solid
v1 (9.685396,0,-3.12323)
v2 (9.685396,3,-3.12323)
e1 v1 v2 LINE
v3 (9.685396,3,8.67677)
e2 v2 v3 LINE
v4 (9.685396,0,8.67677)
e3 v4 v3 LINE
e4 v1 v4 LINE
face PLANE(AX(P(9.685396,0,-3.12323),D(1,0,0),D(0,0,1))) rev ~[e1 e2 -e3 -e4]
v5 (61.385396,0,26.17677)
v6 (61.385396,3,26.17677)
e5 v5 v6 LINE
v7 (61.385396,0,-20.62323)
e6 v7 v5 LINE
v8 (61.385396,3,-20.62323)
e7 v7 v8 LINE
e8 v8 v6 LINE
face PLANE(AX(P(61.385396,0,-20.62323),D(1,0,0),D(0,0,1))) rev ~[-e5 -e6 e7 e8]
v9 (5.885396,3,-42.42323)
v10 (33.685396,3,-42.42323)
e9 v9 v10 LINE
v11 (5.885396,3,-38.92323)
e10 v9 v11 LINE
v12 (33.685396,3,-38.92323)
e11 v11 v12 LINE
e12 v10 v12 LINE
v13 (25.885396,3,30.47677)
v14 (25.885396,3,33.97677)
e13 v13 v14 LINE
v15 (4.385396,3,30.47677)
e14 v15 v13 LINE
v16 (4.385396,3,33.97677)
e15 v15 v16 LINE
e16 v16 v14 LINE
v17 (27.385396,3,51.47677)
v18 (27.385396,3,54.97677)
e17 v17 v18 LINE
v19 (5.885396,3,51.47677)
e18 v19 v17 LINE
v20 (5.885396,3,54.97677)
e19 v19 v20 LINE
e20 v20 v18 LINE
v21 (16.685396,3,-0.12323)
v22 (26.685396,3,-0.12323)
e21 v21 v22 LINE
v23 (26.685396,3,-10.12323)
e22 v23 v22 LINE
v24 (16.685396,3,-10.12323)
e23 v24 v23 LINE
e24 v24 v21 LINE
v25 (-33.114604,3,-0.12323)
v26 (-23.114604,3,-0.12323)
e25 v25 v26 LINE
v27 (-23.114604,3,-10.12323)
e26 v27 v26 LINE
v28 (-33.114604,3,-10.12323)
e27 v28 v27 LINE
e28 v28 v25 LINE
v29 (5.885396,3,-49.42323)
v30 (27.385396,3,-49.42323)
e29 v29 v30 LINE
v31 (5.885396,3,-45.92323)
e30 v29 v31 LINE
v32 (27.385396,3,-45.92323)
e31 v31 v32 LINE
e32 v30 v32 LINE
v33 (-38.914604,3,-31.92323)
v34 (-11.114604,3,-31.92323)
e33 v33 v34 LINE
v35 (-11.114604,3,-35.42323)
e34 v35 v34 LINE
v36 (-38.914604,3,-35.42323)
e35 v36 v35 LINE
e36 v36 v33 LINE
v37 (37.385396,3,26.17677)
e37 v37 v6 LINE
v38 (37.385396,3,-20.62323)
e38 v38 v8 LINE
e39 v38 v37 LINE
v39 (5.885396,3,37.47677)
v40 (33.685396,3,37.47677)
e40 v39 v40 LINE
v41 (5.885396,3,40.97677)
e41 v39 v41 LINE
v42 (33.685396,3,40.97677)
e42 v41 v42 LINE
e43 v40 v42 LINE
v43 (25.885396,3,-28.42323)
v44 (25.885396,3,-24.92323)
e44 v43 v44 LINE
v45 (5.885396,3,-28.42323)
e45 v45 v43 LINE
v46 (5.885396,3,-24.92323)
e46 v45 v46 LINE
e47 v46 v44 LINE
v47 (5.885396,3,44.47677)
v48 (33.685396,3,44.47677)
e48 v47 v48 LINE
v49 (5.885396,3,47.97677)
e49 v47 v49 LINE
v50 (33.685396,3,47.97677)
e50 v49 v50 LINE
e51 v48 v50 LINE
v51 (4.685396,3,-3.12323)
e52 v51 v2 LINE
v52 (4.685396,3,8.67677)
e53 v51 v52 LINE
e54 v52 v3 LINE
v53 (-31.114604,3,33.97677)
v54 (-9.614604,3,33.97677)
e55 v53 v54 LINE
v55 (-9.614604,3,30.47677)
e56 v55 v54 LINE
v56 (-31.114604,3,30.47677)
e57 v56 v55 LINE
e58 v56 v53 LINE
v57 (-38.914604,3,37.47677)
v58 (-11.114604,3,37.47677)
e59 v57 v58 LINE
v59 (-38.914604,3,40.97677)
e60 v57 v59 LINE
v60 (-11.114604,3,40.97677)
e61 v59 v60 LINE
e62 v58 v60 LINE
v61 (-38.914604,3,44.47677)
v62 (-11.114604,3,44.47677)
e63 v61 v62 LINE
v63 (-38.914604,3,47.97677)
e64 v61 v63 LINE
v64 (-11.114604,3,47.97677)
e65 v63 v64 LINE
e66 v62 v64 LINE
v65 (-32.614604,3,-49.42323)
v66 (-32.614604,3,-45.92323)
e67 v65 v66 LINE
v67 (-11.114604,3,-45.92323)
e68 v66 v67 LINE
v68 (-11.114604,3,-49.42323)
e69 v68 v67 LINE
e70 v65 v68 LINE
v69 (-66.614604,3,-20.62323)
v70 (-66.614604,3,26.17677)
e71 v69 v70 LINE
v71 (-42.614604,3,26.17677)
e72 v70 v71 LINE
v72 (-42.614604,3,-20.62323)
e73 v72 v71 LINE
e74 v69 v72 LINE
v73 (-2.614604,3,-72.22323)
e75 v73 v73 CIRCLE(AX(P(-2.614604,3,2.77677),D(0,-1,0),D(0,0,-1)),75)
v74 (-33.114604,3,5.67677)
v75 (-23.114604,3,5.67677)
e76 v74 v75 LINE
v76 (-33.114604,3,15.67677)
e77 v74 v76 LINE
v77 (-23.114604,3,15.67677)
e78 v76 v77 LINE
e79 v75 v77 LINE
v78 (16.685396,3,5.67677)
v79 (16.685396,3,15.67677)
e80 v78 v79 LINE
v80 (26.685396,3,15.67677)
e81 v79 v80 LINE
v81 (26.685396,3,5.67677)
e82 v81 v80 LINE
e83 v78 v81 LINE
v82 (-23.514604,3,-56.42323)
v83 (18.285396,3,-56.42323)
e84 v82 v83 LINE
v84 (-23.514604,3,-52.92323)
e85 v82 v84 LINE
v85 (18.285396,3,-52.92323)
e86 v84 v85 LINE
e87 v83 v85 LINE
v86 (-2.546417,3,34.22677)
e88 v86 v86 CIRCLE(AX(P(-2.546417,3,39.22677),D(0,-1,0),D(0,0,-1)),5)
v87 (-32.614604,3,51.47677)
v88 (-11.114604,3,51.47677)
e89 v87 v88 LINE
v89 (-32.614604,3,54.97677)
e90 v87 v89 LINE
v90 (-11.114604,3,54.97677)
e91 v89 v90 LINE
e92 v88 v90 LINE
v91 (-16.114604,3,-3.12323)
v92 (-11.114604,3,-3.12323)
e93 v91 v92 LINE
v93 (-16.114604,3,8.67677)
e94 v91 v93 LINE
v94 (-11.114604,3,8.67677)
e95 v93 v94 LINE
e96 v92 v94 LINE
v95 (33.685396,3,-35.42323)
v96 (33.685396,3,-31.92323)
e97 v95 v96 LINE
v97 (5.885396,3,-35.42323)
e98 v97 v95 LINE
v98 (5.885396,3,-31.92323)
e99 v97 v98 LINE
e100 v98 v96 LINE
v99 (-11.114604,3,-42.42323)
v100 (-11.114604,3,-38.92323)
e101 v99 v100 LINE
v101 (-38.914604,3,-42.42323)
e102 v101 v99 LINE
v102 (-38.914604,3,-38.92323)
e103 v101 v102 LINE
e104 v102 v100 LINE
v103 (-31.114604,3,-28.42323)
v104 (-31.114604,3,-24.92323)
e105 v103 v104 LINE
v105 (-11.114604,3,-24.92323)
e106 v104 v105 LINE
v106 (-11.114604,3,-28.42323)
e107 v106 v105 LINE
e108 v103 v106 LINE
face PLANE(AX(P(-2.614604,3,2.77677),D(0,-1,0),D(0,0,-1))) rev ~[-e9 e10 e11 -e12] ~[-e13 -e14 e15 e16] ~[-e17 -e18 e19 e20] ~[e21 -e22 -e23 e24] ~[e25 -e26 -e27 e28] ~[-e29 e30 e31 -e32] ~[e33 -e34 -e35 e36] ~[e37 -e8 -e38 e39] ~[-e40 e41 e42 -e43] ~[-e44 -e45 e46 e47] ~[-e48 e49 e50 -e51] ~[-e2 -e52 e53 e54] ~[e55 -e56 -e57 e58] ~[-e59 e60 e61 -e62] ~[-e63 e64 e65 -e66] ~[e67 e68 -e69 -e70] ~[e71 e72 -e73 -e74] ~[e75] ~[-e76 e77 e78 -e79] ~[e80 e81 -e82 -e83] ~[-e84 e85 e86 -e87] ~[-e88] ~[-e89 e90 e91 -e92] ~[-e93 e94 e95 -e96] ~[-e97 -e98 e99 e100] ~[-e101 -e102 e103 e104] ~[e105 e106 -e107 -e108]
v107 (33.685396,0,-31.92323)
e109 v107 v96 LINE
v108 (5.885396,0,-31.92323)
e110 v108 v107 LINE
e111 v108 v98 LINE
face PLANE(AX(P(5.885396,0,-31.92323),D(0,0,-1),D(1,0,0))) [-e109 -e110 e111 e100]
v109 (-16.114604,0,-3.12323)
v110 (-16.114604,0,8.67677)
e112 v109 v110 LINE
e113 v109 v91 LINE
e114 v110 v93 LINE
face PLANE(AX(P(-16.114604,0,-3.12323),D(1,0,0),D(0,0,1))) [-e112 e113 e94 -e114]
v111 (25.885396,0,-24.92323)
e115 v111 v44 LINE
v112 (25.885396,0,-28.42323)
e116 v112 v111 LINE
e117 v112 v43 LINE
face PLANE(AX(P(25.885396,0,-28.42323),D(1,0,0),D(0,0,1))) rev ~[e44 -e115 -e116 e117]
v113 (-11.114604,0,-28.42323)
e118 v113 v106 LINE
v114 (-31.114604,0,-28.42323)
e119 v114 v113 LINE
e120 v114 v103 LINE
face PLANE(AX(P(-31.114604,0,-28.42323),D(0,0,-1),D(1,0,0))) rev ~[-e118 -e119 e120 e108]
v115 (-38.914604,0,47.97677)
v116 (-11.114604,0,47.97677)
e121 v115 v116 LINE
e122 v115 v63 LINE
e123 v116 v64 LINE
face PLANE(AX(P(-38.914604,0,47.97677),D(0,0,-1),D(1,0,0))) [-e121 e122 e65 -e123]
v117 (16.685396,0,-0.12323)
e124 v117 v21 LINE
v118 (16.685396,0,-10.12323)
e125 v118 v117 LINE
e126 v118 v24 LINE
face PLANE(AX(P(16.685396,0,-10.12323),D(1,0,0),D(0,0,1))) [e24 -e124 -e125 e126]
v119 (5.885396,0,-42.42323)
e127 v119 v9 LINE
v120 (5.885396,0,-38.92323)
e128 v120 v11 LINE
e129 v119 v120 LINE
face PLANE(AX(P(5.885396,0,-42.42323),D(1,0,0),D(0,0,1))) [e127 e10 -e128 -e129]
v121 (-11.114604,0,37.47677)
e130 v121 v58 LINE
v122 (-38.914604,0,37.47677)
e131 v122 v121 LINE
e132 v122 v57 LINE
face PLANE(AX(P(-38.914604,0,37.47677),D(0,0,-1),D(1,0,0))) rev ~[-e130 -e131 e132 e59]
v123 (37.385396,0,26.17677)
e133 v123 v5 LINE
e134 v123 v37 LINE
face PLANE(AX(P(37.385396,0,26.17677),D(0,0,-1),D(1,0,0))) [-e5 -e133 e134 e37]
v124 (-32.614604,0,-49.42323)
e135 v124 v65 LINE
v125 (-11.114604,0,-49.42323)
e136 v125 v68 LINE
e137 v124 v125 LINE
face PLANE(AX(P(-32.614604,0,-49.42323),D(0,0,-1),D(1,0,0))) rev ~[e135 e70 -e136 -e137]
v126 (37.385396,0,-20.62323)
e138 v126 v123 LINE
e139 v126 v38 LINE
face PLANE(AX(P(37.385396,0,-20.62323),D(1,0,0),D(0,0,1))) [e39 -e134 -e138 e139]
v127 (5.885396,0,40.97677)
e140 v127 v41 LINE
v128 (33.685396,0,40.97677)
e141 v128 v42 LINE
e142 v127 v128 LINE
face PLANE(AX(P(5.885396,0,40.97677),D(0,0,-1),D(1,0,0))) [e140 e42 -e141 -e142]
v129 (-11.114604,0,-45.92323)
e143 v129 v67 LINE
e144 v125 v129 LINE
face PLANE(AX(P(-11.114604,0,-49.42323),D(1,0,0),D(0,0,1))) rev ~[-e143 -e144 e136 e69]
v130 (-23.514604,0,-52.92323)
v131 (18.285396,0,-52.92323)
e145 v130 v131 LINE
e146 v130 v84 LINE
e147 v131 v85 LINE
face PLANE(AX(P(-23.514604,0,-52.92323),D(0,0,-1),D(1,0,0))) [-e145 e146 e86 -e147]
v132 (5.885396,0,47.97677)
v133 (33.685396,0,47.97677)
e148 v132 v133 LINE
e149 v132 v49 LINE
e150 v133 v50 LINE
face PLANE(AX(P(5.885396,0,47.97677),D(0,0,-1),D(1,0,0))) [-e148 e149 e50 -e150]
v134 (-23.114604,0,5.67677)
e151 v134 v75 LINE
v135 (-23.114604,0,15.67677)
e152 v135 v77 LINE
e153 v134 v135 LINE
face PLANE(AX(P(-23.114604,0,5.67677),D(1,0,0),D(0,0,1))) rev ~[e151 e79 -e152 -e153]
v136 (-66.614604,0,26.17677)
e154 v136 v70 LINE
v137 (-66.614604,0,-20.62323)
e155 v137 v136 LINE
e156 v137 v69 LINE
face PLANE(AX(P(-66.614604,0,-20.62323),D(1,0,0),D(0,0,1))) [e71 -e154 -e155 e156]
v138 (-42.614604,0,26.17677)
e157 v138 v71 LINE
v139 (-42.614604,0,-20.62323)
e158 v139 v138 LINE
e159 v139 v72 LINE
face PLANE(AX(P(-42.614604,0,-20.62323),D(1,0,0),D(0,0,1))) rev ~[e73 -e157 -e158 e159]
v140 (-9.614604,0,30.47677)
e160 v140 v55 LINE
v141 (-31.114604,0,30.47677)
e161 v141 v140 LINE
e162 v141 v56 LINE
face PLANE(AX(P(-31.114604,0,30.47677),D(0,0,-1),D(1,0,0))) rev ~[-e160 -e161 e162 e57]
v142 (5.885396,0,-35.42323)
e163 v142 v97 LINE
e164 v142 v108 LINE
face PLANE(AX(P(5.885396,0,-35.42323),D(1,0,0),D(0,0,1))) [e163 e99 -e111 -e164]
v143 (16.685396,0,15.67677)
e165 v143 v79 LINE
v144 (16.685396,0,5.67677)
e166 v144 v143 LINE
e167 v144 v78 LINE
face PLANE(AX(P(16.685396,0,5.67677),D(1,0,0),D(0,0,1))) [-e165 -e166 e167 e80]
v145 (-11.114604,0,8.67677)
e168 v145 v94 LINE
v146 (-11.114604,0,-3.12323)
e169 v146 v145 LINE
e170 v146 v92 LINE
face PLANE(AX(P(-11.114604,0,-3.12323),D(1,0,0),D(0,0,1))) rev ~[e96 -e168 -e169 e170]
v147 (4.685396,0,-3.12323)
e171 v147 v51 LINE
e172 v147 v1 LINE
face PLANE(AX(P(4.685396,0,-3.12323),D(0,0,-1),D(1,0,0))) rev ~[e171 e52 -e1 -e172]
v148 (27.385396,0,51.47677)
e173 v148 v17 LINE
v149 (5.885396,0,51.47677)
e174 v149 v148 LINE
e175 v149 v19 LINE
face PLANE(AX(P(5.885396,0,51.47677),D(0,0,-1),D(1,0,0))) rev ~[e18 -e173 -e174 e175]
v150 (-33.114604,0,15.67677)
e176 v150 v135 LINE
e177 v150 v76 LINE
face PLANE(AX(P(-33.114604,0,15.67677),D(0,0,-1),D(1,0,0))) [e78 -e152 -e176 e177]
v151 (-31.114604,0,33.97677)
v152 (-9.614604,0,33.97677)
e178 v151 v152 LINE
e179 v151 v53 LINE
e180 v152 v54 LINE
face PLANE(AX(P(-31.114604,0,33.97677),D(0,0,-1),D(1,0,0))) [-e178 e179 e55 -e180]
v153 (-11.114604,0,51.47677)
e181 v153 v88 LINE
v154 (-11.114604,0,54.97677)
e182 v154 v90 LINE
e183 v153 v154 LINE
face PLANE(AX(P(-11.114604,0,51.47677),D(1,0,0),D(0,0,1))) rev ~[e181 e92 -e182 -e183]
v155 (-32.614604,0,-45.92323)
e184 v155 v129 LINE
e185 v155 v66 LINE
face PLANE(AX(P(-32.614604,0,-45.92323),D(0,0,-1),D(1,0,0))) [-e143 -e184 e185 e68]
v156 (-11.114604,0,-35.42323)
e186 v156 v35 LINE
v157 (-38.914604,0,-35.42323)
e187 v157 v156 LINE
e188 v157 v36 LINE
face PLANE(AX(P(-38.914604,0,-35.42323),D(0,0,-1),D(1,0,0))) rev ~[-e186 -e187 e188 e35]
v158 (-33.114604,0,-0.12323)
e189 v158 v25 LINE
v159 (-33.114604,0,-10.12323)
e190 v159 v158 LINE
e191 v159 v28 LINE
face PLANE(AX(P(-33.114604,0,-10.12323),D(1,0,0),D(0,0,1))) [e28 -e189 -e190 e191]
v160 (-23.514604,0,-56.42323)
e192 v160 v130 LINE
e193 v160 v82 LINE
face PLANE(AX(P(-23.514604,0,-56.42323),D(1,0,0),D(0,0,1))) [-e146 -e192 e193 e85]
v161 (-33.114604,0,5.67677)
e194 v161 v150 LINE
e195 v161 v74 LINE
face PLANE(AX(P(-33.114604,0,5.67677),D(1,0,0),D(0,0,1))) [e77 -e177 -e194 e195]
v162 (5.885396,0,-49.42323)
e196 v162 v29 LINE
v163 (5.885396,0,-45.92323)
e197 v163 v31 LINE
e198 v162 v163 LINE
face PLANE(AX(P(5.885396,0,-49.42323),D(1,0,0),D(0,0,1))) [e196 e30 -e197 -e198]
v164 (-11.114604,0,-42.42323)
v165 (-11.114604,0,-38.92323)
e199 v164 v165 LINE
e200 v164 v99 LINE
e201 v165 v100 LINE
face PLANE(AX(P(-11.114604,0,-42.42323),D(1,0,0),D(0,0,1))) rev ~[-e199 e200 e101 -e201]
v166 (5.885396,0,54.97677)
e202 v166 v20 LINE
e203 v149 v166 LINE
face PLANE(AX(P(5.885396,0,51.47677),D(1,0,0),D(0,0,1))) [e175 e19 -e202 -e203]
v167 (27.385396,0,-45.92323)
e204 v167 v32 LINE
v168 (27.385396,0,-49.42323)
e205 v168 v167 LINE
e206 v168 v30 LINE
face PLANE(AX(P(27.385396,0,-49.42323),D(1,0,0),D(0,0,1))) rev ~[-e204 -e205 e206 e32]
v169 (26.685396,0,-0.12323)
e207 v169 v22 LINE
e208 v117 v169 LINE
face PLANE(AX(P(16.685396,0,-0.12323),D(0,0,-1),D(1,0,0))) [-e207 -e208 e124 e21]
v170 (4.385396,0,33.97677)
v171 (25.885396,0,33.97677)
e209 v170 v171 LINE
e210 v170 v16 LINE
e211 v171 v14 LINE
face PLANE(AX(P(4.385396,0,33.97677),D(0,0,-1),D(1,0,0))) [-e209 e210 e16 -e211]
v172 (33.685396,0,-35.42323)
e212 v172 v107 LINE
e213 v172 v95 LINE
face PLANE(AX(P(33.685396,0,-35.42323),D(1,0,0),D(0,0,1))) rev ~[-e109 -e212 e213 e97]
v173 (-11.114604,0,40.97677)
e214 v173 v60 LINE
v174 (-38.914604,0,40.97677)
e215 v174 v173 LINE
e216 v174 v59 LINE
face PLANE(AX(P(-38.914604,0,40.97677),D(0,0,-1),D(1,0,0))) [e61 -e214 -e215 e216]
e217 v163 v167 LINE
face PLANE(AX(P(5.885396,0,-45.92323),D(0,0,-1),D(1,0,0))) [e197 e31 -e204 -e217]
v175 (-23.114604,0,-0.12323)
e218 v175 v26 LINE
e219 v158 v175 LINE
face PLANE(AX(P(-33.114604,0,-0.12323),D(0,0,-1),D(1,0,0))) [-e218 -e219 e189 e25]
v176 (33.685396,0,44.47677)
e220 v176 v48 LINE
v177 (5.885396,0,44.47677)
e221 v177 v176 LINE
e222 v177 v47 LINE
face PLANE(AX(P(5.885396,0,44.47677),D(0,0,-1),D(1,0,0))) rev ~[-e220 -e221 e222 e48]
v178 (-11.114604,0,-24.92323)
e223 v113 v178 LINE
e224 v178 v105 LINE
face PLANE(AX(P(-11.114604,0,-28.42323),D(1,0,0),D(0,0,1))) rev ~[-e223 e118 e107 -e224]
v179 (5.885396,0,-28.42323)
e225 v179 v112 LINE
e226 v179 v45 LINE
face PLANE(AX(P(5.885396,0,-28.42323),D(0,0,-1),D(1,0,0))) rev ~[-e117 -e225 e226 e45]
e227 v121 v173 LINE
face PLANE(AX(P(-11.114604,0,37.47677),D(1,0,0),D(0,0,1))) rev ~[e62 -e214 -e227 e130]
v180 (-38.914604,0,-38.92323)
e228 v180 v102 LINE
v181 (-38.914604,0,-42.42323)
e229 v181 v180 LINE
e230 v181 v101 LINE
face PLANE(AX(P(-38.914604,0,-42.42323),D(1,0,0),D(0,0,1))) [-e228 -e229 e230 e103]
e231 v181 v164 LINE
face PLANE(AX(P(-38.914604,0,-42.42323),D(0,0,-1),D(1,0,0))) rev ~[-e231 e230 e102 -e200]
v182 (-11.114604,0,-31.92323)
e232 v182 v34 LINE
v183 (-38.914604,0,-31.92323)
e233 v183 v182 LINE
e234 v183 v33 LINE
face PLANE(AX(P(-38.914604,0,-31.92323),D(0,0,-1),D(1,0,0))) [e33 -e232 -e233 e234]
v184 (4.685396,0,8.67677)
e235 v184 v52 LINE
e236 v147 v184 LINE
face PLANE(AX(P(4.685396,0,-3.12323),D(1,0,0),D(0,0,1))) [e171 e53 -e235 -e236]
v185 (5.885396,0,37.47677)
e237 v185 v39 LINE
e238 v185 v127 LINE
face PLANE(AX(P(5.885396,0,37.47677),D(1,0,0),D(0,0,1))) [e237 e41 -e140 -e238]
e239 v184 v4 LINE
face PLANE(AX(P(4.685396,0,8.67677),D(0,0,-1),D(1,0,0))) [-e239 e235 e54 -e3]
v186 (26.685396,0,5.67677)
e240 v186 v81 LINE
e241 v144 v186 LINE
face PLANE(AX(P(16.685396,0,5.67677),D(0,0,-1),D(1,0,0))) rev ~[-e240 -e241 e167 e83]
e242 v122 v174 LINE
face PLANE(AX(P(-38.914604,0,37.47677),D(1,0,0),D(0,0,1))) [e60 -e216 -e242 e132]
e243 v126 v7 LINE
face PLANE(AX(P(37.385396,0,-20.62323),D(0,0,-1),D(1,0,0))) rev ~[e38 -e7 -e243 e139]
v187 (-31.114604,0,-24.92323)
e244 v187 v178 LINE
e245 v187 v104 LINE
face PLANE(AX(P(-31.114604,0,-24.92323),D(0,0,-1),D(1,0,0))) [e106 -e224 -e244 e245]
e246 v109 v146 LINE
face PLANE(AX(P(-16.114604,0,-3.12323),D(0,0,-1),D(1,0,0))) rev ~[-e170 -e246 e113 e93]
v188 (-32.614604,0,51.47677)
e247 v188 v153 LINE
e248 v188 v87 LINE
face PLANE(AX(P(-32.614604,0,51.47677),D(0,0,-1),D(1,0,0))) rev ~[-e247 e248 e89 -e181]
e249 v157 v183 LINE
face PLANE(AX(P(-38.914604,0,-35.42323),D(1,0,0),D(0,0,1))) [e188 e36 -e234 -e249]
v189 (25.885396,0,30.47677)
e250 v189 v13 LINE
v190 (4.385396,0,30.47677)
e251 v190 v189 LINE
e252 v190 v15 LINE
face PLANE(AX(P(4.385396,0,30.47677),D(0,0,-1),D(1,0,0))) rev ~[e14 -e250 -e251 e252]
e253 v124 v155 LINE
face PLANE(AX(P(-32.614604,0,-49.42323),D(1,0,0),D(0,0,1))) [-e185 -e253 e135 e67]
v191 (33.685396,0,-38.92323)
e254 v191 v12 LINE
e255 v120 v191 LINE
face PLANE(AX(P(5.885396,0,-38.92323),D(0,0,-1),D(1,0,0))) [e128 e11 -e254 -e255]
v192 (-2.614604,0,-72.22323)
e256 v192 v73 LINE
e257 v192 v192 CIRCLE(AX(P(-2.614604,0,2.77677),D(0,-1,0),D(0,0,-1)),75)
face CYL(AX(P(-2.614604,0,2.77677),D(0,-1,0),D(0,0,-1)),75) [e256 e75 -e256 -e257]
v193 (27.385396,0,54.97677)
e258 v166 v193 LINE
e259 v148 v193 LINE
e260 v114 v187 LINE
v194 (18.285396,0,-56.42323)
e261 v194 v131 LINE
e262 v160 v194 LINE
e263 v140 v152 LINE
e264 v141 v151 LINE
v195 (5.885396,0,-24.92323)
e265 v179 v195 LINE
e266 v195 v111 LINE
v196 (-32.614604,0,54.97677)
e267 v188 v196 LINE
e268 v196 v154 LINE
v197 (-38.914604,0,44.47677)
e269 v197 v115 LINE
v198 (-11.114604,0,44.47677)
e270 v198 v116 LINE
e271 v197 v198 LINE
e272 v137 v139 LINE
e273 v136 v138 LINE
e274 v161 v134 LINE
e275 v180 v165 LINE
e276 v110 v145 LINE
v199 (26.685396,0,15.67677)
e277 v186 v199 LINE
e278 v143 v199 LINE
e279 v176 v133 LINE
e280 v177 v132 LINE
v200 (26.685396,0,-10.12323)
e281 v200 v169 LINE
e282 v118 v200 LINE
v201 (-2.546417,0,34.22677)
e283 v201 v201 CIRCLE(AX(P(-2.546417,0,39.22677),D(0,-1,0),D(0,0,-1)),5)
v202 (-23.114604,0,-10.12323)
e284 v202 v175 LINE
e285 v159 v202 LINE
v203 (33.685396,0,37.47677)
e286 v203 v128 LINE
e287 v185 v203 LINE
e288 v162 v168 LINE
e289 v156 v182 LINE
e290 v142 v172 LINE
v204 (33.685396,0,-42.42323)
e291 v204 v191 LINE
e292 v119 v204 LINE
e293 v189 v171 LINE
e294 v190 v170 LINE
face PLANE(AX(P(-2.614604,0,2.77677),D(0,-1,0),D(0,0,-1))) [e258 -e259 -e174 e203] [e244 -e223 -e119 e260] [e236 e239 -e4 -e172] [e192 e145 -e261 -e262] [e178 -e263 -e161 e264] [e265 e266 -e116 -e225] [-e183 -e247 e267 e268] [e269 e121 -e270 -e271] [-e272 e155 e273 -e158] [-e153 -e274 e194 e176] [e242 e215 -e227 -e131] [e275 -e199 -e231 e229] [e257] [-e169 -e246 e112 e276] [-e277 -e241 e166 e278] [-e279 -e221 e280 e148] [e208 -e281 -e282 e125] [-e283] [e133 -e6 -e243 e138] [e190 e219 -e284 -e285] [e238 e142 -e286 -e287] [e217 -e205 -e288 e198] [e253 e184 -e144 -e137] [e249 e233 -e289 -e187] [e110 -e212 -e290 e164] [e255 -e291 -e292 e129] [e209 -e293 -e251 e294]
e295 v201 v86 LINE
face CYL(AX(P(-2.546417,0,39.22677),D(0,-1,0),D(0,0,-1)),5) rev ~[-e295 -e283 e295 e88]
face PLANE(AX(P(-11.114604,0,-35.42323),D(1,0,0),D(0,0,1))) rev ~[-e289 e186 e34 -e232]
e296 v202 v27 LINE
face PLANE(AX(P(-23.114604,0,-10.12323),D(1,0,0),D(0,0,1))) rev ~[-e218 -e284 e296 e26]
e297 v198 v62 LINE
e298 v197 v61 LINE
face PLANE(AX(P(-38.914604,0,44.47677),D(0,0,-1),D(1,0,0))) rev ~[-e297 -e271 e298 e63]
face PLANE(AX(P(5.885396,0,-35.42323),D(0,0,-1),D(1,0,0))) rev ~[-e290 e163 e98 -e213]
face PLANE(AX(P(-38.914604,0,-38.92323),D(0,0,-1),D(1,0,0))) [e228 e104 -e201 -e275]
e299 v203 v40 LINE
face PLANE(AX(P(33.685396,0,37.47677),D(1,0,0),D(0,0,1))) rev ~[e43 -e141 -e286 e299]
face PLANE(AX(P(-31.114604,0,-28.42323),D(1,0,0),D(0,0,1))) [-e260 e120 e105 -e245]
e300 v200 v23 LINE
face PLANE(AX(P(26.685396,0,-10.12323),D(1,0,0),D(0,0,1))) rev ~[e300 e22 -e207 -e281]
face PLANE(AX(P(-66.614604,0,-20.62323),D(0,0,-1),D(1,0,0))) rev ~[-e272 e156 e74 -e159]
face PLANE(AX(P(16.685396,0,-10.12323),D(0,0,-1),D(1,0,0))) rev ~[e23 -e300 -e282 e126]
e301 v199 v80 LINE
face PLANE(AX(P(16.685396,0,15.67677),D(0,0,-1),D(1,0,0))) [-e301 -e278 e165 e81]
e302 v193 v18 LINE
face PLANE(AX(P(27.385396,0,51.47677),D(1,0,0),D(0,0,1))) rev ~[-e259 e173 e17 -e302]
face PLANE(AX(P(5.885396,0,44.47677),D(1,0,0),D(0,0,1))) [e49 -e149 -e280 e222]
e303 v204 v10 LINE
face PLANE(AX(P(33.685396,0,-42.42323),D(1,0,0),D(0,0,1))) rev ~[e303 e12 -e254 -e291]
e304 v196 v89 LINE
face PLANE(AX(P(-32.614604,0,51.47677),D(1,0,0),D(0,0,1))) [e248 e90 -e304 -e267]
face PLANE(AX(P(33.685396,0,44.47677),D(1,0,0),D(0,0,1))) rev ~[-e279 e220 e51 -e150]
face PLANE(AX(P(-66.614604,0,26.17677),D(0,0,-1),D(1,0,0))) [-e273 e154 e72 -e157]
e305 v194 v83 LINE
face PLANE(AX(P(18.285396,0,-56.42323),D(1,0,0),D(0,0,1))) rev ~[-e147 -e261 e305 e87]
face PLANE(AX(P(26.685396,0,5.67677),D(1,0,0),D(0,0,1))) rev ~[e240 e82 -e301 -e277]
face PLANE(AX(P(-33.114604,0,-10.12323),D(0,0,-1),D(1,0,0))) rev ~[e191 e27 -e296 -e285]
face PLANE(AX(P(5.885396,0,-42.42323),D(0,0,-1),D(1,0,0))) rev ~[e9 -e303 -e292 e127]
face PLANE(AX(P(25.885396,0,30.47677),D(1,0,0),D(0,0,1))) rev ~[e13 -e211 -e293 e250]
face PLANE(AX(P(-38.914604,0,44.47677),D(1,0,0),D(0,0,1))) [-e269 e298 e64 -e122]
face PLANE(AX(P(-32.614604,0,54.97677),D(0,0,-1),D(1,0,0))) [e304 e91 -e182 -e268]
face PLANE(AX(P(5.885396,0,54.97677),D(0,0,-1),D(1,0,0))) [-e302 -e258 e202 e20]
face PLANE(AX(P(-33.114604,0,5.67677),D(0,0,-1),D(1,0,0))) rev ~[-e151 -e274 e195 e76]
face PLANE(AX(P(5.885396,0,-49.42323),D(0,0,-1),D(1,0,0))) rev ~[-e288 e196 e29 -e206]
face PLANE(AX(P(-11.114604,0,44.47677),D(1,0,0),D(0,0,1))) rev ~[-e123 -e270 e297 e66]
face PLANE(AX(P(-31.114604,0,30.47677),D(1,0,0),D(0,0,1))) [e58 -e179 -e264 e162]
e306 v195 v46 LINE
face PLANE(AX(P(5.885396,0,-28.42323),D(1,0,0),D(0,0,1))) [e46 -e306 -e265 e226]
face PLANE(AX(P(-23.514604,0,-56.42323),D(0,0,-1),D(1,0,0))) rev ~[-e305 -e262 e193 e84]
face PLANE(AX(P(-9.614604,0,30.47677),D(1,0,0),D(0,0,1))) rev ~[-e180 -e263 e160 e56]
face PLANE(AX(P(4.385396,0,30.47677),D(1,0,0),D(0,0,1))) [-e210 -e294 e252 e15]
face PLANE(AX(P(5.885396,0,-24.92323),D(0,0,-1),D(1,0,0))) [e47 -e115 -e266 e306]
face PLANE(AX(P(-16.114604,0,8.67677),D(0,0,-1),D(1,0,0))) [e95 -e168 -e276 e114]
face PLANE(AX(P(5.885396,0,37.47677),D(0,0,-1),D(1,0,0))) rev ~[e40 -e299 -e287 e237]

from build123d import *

# Parameters (mm, degrees)
CROQUIS1_R              = 75
CROQUIS1_R_2            = 5
CROQUIS1_W              = 24
CROQUIS1_H              = 46.8
CROQUIS1_W_2            = 41.8
CROQUIS1_H_2            = 3.5
CROQUIS1_W_3            = 10
CROQUIS1_H_3            = 10
CROQUIS1_W_4            = 27.8
CROQUIS1_W_5            = 21.5
CROQUIS1_W_6            = 20
CROQUIS1_W_7            = 5
CROQUIS1_H_4            = 11.8
SALIENTE_EXTRUIR1_DEPTH = 3


with BuildPart() as part:
    # Croquis1 → Saliente-Extruir1 (new body)
    with BuildSketch(Plane.XZ):
        with Locations(Location((-2.614604162, 2.776770239, 0), (0, 0, 270))):
            Circle(CROQUIS1_R)
        with Locations(Location((-2.546416873, 39.226770239, 0), (0, 0, 270))):
            Circle(CROQUIS1_R_2, mode=Mode.SUBTRACT)
        with Locations((49.385395838, 2.776770239)):
            Rectangle(CROQUIS1_W, CROQUIS1_H, mode=Mode.SUBTRACT)
        with Locations((-54.614604162, 2.776770239)):
            Rectangle(CROQUIS1_W, CROQUIS1_H, mode=Mode.SUBTRACT)
        with Locations((-2.614604162, -54.673229761)):
            Rectangle(CROQUIS1_W_2, CROQUIS1_H_2, mode=Mode.SUBTRACT)
        with Locations((21.685395838, 10.676770239)):
            Rectangle(CROQUIS1_W_3, CROQUIS1_H_3, mode=Mode.SUBTRACT)
        with Locations((21.685395838, -5.123229761)):
            Rectangle(CROQUIS1_W_3, CROQUIS1_H_3, mode=Mode.SUBTRACT)
        with Locations((-28.114604162, 10.676770239)):
            Rectangle(CROQUIS1_W_3, CROQUIS1_H_3, mode=Mode.SUBTRACT)
        with Locations((-28.114604162, -5.123229761)):
            Rectangle(CROQUIS1_W_3, CROQUIS1_H_3, mode=Mode.SUBTRACT)
        with Locations((19.785395838, 46.226770239)):
            Rectangle(CROQUIS1_W_4, CROQUIS1_H_2, mode=Mode.SUBTRACT)
        with Locations((19.785395838, 39.226770239)):
            Rectangle(CROQUIS1_W_4, CROQUIS1_H_2, mode=Mode.SUBTRACT)
        with Locations((-25.014604162, 46.226770239)):
            Rectangle(CROQUIS1_W_4, CROQUIS1_H_2, mode=Mode.SUBTRACT)
        with Locations((-25.014604162, 39.226770239)):
            Rectangle(CROQUIS1_W_4, CROQUIS1_H_2, mode=Mode.SUBTRACT)
        with Locations((19.785395838, -33.673229761)):
            Rectangle(CROQUIS1_W_4, CROQUIS1_H_2, mode=Mode.SUBTRACT)
        with Locations((19.785395838, -40.673229761)):
            Rectangle(CROQUIS1_W_4, CROQUIS1_H_2, mode=Mode.SUBTRACT)
        with Locations((-25.014604162, -33.673229761)):
            Rectangle(CROQUIS1_W_4, CROQUIS1_H_2, mode=Mode.SUBTRACT)
        with Locations((-25.014604162, -40.673229761)):
            Rectangle(CROQUIS1_W_4, CROQUIS1_H_2, mode=Mode.SUBTRACT)
        with Locations((-20.364604162, 32.226770239)):
            Rectangle(CROQUIS1_W_5, CROQUIS1_H_2, mode=Mode.SUBTRACT)
        with Locations((16.635395838, 53.226770239)):
            Rectangle(CROQUIS1_W_5, CROQUIS1_H_2, mode=Mode.SUBTRACT)
        with Locations((15.135395838, 32.226770239)):
            Rectangle(CROQUIS1_W_5, CROQUIS1_H_2, mode=Mode.SUBTRACT)
        with Locations((-21.864604162, 53.226770239)):
            Rectangle(CROQUIS1_W_5, CROQUIS1_H_2, mode=Mode.SUBTRACT)
        with Locations((16.635395838, -47.673229761)):
            Rectangle(CROQUIS1_W_5, CROQUIS1_H_2, mode=Mode.SUBTRACT)
        with Locations((-21.864604162, -47.673229761)):
            Rectangle(CROQUIS1_W_5, CROQUIS1_H_2, mode=Mode.SUBTRACT)
        with Locations((15.885395838, -26.673229761)):
            Rectangle(CROQUIS1_W_6, CROQUIS1_H_2, mode=Mode.SUBTRACT)
        with Locations((-21.114604162, -26.673229761)):
            Rectangle(CROQUIS1_W_6, CROQUIS1_H_2, mode=Mode.SUBTRACT)
        with Locations((7.185395838, 2.776770239)):
            Rectangle(CROQUIS1_W_7, CROQUIS1_H_4, mode=Mode.SUBTRACT)
        with Locations((-13.614604162, 2.776770239)):
            Rectangle(CROQUIS1_W_7, CROQUIS1_H_4, mode=Mode.SUBTRACT)
    extrude(amount=-SALIENTE_EXTRUIR1_DEPTH)


solid = part.part
